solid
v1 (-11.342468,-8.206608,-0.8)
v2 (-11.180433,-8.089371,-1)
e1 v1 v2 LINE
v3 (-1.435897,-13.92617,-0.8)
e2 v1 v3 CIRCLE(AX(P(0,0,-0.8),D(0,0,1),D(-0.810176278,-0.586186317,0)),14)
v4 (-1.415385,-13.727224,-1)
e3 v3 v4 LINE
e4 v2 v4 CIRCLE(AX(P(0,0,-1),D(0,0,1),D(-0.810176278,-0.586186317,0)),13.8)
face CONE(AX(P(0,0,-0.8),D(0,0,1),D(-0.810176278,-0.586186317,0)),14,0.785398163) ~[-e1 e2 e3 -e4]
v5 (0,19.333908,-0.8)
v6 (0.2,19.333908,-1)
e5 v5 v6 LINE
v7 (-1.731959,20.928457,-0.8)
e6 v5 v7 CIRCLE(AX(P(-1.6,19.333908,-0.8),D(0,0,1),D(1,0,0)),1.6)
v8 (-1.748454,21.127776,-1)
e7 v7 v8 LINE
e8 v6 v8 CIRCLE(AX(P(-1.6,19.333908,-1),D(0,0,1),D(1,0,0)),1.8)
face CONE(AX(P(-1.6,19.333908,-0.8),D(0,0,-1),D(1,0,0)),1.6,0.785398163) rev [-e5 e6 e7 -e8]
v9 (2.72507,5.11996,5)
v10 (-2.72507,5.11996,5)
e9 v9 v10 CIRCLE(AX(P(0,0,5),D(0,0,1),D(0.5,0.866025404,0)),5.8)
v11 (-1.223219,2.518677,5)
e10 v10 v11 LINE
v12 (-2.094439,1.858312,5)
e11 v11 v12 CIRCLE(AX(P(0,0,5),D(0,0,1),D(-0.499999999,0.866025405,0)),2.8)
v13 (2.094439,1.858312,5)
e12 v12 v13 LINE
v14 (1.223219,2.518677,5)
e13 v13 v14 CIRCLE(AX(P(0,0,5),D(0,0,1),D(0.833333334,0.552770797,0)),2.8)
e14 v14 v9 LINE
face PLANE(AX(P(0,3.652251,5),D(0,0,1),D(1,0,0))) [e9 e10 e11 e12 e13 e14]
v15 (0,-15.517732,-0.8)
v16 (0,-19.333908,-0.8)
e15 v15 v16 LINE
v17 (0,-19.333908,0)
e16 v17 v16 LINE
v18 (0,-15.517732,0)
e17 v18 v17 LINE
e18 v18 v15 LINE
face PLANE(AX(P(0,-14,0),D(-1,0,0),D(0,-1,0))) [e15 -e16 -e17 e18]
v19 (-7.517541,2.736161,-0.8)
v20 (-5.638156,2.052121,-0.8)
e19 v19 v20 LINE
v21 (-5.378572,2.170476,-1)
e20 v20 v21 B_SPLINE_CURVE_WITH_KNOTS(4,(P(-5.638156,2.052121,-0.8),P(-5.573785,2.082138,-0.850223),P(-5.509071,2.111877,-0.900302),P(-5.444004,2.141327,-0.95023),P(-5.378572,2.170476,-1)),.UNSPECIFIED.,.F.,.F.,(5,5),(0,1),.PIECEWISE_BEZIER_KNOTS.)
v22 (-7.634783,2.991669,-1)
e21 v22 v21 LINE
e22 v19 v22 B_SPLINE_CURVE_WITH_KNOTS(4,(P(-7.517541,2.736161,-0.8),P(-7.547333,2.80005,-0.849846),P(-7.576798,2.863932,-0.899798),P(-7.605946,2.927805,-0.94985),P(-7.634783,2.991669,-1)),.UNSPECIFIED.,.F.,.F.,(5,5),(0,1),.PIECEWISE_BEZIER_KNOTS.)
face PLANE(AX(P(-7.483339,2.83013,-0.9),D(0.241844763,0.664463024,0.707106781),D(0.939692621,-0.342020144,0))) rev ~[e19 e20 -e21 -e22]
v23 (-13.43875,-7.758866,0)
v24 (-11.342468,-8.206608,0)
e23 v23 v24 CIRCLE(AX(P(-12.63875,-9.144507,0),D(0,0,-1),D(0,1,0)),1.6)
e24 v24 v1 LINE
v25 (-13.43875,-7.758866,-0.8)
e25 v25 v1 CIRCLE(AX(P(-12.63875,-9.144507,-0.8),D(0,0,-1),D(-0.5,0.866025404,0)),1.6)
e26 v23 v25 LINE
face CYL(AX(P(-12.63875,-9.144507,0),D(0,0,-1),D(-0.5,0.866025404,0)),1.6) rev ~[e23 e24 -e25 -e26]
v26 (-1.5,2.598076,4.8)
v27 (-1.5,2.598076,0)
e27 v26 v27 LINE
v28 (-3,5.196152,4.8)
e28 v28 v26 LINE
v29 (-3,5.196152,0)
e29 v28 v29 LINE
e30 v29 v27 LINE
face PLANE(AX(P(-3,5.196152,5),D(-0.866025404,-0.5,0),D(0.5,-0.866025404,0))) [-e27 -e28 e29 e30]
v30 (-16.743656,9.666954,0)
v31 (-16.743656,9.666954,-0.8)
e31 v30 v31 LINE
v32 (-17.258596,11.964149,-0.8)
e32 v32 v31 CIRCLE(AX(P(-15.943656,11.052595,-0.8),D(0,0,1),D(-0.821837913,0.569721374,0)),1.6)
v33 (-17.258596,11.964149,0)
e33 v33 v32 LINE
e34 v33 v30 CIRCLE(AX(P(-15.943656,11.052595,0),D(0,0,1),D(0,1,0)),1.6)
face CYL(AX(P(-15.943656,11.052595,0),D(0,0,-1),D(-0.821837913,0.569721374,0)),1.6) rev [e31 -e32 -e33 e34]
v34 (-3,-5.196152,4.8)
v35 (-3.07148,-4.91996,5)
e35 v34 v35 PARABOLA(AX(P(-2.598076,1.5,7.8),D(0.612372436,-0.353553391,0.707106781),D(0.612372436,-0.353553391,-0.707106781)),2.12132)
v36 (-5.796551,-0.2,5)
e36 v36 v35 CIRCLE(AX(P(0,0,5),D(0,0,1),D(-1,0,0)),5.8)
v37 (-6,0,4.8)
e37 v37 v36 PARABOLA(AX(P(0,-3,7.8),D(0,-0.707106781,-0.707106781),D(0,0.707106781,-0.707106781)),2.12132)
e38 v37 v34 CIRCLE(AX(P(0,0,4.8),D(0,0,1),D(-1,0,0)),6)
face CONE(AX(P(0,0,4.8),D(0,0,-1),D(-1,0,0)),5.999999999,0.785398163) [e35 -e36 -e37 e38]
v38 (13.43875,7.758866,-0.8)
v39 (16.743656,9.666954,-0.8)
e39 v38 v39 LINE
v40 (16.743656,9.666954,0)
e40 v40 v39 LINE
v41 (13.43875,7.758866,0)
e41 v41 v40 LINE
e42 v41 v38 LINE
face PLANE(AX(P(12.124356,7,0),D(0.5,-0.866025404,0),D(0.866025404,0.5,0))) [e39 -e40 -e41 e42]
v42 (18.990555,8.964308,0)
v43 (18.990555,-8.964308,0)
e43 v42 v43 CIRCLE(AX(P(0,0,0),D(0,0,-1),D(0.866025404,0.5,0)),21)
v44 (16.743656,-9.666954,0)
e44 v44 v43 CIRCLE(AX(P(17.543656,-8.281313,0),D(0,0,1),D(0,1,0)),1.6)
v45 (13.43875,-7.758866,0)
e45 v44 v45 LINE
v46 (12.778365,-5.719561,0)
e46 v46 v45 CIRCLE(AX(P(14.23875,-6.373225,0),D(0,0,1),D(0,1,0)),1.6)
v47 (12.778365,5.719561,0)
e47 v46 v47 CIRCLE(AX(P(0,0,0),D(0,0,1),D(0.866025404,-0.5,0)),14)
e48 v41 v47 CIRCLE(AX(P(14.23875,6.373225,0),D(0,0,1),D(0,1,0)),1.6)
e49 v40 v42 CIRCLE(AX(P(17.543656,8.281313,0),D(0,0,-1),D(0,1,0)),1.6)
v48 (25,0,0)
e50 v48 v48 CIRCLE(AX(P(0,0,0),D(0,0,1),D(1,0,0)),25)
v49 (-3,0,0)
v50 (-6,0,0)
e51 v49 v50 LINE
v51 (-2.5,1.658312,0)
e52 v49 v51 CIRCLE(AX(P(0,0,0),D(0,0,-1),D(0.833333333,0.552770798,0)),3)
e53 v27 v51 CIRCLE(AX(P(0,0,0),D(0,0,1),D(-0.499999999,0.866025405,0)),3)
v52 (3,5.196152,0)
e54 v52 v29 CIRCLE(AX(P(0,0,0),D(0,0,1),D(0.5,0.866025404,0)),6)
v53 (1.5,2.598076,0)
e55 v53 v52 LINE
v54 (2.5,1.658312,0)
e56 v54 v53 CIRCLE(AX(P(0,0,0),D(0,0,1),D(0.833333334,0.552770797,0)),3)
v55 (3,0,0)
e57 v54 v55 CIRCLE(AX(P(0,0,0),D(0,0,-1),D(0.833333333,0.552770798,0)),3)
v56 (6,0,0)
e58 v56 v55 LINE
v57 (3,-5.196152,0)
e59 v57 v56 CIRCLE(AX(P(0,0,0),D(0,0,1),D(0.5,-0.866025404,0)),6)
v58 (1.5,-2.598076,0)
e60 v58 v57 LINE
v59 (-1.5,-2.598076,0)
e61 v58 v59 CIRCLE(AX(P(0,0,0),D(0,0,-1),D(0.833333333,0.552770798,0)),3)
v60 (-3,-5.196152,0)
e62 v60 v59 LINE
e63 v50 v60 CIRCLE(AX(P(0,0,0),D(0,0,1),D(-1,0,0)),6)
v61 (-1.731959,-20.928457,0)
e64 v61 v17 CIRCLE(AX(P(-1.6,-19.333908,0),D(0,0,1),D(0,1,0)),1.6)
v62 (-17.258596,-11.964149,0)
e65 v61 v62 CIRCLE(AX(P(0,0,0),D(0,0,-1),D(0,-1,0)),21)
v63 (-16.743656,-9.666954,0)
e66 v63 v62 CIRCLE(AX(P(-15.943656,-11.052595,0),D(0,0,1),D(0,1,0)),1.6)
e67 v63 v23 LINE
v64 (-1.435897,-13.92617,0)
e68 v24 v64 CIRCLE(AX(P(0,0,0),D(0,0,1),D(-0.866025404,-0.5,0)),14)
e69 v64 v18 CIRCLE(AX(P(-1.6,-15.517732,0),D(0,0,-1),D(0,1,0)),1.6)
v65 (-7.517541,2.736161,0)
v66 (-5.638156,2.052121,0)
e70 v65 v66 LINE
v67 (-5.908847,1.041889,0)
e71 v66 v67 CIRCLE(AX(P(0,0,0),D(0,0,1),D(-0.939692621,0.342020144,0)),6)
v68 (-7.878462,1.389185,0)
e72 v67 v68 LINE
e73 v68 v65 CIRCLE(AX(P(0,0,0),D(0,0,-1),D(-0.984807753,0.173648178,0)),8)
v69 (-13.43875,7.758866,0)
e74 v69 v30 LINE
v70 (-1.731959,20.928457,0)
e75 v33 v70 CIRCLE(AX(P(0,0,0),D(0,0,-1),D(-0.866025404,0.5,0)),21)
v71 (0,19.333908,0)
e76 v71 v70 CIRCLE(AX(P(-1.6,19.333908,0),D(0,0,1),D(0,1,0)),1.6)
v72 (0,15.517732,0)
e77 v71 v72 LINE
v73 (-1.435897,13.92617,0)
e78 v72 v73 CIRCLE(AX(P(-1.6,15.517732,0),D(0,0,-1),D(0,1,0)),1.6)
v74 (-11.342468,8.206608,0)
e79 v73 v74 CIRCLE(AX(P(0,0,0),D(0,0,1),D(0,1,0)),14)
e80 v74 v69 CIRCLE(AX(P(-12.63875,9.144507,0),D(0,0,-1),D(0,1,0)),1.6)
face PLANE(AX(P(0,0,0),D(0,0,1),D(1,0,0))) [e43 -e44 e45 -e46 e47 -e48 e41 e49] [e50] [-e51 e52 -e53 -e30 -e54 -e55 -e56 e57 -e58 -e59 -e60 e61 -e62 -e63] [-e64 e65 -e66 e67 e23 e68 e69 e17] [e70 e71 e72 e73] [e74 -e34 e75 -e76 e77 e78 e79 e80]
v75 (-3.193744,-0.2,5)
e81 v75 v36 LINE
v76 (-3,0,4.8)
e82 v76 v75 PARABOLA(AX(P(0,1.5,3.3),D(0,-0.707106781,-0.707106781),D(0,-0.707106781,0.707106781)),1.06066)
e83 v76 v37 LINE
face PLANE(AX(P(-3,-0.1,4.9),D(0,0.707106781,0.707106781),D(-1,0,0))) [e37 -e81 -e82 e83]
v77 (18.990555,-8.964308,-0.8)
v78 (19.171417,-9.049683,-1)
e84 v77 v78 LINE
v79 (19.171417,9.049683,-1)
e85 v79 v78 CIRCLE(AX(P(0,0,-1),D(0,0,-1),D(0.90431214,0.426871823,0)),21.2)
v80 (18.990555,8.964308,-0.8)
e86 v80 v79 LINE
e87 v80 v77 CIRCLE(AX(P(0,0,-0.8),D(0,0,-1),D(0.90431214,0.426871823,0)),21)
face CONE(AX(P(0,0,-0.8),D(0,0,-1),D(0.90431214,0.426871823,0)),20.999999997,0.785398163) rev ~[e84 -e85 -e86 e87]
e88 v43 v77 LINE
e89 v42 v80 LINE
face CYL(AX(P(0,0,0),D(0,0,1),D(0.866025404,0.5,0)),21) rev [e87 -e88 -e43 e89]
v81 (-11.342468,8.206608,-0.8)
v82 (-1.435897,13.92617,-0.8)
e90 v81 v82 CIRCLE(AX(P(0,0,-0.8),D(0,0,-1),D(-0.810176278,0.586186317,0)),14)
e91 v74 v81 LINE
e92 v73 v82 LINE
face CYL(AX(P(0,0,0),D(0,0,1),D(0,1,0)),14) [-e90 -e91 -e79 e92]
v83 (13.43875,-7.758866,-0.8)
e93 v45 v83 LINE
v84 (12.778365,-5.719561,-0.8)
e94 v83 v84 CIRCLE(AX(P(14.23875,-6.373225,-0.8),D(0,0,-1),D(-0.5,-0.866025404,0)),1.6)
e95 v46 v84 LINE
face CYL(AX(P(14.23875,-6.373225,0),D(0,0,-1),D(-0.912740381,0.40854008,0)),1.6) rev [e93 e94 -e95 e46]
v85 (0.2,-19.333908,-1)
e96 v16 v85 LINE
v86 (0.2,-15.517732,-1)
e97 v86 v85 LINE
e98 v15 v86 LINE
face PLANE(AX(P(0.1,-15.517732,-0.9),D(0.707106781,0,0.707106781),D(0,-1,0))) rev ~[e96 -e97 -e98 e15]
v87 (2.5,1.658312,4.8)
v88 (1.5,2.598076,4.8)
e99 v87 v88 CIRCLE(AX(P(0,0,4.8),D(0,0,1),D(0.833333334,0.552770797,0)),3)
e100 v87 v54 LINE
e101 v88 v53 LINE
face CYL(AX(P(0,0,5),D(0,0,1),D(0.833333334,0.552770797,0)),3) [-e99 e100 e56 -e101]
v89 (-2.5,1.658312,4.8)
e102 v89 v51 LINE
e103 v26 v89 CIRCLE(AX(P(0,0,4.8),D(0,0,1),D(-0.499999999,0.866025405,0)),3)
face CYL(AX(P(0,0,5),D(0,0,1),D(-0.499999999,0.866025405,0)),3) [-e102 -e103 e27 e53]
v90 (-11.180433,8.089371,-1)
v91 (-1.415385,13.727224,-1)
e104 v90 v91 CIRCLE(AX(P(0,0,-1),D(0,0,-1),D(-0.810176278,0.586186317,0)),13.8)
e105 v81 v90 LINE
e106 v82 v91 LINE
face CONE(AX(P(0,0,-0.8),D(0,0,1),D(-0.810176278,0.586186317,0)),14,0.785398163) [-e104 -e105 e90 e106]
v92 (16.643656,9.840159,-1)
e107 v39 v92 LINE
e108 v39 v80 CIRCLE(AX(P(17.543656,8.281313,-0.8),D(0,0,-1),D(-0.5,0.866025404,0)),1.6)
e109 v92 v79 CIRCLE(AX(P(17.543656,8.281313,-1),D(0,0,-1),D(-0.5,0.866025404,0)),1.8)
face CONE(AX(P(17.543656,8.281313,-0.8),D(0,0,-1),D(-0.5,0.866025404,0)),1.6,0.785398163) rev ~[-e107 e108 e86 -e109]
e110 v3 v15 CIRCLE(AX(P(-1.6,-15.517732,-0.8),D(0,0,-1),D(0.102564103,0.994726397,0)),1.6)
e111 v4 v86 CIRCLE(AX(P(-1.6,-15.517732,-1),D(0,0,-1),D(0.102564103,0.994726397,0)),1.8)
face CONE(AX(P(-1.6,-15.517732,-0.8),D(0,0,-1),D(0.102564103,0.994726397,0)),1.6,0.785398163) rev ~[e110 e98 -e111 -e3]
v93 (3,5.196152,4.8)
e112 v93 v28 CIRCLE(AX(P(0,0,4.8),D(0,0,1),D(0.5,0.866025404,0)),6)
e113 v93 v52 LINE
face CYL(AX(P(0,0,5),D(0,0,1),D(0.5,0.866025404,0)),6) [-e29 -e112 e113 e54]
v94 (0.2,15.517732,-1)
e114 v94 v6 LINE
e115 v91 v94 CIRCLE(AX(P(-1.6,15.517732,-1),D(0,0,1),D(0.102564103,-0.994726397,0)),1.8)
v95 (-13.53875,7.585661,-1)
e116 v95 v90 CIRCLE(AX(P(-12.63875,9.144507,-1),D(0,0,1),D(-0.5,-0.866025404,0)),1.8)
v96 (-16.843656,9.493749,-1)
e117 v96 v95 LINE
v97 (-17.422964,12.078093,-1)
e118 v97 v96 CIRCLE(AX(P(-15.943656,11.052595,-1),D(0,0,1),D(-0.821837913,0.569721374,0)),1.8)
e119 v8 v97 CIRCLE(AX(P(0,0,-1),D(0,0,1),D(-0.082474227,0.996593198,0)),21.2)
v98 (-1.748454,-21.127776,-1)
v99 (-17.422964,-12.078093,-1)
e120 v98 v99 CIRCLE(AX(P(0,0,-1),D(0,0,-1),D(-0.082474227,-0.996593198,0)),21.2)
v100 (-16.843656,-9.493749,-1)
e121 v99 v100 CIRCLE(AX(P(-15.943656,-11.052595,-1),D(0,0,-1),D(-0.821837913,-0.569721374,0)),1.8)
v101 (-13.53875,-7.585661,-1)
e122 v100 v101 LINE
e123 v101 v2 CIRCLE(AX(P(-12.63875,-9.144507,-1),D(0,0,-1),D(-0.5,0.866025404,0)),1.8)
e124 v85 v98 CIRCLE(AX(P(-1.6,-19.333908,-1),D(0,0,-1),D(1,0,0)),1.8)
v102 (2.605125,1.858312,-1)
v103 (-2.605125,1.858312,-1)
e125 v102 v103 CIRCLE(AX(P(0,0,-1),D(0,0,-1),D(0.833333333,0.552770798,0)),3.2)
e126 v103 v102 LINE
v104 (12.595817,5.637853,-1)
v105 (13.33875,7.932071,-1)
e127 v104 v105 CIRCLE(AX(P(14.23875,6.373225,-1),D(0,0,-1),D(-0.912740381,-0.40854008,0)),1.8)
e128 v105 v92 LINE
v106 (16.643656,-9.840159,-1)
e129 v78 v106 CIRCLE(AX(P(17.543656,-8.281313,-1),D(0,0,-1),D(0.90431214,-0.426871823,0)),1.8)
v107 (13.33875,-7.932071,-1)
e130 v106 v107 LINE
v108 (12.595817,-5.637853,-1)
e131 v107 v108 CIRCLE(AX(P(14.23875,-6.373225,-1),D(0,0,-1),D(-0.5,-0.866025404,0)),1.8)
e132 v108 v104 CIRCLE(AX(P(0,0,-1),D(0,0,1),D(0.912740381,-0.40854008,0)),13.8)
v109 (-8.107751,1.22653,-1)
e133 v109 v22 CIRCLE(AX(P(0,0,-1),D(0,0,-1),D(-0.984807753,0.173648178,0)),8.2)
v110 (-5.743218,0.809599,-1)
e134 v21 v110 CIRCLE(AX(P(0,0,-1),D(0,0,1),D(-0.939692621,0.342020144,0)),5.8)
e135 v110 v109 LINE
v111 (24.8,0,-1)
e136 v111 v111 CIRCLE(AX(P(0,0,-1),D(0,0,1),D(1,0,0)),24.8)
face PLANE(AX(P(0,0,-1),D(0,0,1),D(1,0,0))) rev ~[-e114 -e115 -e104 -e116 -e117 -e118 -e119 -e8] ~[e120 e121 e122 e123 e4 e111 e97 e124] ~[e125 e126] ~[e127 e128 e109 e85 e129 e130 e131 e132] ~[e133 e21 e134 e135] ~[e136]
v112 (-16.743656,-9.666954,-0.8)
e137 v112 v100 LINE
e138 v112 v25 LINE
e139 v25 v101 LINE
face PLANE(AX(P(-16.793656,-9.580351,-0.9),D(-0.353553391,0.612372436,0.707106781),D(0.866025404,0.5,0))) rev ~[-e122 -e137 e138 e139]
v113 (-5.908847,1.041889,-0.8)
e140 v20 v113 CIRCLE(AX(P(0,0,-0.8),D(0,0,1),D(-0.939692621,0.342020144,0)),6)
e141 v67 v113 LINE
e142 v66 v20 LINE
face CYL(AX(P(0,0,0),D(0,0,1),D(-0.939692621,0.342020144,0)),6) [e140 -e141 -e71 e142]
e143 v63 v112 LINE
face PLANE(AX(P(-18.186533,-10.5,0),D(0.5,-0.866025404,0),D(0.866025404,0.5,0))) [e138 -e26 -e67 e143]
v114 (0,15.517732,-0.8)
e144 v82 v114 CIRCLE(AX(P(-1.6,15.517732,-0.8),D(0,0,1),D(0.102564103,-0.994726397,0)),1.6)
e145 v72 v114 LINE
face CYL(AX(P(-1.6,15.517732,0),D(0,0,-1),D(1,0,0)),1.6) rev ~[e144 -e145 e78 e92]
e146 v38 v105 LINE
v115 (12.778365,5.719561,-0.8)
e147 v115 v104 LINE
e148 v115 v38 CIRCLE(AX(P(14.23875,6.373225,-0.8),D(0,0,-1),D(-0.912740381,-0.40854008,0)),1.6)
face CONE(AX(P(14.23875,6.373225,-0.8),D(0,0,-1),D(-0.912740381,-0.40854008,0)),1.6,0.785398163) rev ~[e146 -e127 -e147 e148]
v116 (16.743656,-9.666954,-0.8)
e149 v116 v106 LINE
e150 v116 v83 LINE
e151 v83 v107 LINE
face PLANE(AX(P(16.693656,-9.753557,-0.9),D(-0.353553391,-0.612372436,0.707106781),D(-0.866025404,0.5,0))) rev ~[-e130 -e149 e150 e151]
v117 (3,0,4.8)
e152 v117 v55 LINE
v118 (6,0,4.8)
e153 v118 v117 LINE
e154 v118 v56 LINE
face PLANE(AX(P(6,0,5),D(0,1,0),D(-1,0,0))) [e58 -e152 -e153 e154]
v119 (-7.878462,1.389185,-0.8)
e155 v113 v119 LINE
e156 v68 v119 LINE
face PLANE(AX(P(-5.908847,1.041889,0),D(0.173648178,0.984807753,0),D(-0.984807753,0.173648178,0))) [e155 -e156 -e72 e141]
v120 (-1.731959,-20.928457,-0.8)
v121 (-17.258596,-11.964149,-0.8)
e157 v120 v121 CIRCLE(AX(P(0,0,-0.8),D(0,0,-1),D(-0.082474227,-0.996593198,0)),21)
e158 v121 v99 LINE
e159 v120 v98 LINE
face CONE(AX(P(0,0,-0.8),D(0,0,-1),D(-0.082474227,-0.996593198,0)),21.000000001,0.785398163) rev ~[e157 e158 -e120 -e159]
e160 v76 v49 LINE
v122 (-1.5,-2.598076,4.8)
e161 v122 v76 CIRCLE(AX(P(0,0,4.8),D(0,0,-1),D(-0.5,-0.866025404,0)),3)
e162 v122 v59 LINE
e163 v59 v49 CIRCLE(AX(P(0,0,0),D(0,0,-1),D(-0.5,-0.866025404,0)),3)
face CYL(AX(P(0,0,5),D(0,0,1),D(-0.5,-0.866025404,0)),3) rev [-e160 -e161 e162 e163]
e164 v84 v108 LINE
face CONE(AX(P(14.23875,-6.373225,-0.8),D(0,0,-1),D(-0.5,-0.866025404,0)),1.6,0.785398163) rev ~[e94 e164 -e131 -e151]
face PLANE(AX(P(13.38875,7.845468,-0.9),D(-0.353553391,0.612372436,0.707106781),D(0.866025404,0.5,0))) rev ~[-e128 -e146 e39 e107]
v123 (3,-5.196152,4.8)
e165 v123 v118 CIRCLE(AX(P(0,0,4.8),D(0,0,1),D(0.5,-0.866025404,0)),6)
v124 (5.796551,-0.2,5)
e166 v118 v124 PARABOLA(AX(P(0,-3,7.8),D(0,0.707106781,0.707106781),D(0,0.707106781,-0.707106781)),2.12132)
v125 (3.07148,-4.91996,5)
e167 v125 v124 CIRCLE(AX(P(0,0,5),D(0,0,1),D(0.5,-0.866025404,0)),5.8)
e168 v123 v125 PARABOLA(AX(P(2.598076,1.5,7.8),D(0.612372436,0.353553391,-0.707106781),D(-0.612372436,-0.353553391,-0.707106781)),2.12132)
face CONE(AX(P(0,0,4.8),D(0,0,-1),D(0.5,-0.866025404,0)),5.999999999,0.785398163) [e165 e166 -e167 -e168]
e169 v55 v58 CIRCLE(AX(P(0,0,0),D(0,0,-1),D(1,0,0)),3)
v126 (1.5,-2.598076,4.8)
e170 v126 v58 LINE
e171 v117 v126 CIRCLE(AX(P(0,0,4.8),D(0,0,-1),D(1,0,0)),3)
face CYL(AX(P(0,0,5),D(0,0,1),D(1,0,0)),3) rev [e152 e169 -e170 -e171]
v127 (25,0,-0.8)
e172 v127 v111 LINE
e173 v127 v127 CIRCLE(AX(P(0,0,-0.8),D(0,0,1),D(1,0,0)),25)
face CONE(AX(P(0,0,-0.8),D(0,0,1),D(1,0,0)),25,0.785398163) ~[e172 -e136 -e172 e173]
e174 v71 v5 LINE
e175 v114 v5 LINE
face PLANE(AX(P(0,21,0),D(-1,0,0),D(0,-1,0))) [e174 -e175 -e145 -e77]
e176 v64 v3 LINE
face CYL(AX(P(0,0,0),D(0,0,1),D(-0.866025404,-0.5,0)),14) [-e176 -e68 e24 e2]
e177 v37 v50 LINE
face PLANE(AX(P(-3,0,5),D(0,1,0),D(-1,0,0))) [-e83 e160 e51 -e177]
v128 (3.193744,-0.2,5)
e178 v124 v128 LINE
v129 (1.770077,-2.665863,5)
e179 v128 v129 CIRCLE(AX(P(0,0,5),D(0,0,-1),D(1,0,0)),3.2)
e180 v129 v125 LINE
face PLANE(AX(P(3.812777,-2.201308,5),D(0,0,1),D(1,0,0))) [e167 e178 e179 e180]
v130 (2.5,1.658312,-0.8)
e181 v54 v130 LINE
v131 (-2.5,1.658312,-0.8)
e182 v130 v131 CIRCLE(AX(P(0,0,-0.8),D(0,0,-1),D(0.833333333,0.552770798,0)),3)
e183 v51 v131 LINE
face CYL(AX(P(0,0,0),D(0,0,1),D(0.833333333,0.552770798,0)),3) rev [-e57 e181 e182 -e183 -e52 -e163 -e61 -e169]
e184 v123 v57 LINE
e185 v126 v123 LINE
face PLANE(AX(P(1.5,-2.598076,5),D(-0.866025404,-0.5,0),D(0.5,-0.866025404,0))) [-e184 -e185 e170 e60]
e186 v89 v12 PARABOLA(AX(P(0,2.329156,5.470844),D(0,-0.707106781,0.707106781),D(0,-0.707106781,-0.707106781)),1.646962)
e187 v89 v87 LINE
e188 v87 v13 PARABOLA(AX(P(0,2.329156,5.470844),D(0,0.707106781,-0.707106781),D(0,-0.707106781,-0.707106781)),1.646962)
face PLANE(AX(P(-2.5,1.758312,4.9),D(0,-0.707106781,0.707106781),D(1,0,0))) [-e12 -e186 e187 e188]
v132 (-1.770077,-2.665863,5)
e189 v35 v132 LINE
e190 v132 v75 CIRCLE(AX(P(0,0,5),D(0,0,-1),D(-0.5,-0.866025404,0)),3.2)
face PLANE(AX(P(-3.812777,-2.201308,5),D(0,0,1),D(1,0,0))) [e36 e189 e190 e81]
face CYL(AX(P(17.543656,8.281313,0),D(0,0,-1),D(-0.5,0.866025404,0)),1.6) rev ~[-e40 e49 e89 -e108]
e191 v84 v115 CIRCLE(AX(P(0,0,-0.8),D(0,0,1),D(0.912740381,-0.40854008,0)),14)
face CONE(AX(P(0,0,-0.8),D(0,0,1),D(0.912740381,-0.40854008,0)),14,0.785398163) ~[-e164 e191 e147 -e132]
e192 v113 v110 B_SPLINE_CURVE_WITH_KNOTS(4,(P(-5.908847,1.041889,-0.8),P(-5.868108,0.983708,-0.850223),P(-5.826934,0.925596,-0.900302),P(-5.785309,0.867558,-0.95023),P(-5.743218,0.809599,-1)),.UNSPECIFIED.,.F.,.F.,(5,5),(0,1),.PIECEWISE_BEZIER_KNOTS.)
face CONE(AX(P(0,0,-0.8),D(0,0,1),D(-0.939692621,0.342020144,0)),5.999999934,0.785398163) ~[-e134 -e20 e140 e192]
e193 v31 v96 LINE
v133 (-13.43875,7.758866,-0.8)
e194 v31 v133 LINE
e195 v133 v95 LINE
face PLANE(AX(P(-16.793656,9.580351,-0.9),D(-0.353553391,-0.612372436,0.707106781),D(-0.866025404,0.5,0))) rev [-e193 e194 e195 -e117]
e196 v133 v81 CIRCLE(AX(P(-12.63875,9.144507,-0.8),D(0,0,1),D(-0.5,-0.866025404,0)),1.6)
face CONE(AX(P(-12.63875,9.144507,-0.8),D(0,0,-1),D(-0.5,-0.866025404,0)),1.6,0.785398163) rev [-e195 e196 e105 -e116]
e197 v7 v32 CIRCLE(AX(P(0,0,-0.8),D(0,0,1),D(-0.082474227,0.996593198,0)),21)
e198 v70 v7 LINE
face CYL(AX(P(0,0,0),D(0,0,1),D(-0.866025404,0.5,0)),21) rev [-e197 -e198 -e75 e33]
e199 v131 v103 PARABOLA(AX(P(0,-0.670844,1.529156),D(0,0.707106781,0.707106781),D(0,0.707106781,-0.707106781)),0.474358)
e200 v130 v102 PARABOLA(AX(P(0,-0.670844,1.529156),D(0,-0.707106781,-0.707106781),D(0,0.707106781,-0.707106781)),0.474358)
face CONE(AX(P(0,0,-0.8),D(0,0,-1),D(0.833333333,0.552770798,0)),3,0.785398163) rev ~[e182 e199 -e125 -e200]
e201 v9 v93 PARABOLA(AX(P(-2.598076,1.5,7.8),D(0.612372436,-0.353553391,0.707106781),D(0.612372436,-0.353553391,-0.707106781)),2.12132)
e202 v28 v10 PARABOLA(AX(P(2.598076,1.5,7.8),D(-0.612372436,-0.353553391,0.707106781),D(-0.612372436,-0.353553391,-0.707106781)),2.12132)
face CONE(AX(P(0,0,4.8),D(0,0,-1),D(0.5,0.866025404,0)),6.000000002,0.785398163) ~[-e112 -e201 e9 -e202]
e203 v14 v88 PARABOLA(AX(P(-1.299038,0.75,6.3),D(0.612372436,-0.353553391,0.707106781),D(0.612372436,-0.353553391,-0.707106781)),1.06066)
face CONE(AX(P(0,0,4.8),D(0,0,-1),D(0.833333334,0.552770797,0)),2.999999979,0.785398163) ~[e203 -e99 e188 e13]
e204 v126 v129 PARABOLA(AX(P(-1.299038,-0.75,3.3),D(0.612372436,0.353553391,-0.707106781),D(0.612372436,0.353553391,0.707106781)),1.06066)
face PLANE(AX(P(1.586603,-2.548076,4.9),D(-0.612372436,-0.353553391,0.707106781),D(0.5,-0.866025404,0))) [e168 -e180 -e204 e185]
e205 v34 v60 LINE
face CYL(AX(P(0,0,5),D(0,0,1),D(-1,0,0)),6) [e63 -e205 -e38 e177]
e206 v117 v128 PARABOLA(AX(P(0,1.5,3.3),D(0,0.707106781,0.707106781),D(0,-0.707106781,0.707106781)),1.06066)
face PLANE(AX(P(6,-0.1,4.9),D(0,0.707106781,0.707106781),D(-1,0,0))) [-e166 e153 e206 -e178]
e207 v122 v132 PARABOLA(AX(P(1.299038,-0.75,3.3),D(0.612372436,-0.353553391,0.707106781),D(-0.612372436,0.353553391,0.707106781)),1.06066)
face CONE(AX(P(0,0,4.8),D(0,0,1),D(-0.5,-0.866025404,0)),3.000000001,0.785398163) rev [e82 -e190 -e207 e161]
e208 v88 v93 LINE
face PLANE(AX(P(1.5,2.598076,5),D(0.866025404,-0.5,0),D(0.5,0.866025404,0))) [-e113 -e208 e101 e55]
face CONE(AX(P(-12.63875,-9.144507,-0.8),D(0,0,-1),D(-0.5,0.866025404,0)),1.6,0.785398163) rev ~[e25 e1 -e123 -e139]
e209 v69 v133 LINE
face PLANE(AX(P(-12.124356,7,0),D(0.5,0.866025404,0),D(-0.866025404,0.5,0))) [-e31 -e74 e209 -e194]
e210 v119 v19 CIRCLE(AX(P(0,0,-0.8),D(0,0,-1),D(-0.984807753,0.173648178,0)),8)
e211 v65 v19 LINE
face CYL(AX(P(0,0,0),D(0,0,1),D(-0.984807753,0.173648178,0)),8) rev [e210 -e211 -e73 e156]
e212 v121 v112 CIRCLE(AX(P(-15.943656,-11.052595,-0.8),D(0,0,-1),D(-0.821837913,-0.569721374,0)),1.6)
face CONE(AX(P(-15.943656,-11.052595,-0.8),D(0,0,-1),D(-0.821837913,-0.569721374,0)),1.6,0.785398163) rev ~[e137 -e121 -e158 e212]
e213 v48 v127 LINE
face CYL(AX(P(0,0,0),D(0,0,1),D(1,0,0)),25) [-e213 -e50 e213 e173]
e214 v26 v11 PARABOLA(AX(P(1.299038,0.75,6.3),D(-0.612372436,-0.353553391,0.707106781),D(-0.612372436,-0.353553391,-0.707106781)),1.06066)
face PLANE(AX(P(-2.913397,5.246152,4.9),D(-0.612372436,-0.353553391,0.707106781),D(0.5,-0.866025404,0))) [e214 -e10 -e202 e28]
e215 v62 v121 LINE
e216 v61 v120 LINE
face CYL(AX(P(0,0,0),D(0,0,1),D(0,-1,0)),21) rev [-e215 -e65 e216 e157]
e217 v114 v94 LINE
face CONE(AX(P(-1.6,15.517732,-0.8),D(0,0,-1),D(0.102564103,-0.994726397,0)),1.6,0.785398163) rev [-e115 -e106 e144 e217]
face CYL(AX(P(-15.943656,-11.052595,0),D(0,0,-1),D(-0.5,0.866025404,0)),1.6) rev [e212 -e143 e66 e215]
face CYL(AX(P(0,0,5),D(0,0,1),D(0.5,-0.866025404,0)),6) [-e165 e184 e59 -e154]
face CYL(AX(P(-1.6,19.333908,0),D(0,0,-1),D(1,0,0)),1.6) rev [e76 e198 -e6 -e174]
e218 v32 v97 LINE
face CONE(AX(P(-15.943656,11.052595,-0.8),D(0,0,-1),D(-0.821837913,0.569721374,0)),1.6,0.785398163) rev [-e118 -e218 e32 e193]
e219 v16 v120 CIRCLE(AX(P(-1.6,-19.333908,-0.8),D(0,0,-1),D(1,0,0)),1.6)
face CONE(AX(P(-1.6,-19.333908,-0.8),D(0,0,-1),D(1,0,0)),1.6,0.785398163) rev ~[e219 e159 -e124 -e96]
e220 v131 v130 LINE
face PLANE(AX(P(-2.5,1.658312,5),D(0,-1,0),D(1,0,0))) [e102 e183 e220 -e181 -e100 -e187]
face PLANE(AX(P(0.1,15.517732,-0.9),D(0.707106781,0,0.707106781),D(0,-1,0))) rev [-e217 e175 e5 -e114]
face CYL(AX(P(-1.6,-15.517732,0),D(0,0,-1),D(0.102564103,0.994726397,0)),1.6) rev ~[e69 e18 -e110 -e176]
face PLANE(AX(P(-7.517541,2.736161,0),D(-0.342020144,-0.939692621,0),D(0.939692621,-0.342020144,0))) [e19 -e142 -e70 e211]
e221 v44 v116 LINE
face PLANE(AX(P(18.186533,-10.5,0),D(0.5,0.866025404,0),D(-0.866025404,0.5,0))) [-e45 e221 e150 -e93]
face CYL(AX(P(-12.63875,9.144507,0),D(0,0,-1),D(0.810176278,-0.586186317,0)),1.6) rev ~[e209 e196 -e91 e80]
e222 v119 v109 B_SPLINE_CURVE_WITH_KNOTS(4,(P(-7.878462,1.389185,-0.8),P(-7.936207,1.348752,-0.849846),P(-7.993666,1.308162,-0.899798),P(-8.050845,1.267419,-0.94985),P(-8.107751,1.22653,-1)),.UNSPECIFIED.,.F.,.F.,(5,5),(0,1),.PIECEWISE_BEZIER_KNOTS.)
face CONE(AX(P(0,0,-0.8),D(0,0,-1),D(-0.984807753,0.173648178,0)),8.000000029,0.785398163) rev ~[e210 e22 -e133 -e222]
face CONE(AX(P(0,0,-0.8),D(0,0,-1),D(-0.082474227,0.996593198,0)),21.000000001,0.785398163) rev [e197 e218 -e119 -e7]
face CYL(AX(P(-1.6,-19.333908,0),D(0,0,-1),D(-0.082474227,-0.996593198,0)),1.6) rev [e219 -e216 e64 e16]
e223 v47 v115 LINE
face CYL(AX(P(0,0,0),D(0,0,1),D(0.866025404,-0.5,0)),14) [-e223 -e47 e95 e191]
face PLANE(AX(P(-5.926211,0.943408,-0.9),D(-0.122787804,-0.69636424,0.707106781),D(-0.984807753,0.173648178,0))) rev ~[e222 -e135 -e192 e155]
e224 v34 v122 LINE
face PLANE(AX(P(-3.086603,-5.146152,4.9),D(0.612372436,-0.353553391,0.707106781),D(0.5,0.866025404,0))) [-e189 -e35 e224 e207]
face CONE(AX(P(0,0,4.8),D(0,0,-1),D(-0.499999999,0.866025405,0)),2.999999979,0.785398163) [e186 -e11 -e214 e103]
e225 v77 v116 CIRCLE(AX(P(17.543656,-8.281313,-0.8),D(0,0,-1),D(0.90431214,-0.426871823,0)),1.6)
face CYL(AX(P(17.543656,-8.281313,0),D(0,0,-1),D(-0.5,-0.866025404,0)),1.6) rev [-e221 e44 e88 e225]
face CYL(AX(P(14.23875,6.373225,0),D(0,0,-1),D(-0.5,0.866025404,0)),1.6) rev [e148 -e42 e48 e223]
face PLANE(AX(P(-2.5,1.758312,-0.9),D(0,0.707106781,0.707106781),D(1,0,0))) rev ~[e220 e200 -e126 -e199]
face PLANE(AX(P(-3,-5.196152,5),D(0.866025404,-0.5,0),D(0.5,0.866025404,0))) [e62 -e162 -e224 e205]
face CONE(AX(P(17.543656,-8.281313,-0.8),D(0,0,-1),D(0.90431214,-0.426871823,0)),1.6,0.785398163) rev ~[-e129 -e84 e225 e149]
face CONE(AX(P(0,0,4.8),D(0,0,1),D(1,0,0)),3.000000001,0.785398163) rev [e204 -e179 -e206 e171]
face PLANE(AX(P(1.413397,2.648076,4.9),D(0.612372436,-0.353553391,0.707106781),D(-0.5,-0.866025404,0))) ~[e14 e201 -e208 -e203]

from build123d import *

# Parameters (mm, degrees)
SKETCH_1_R      = 25
EXTRUDE_1_DEPTH = 1
FILLET_1_R      = 1.6
EXTRUDE_START   = 5
EXTRUDE_3_DEPTH = 5
CHAMFER_3_SIZE  = 0.2


with BuildPart() as part:
    # 草图1 → 凸台-拉伸1 (new body)
    with BuildSketch(Plane.XY):
        Circle(SKETCH_1_R)
        with BuildLine():
            Line((-5.908846518, 1.041889066), (-7.878462024, 1.389185421))
            ThreePointArc((-7.878462024, 1.389185421), (-7.72740661, 2.070552361), (-7.517540966, 2.736161147))
            Line((-7.517540966, 2.736161147), (-5.638155725, 2.05212086))
            ThreePointArc((-5.638155725, 2.05212086), (-5.795554958, 1.552914271), (-5.908846518, 1.041889066))
        make_face(mode=Mode.SUBTRACT)
        with BuildLine():
            Line((-2.5, 1.658312395), (2.5, 1.658312395))
            ThreePointArc((2.5, 1.658312395), (0, -3), (-2.5, 1.658312395))
        make_face(mode=Mode.SUBTRACT)
        with BuildLine():
            ThreePointArc((-12.124355653, -7), (-7, -12.124355653), (0, -14))
            Line((0, -14), (0, -21))
            ThreePointArc((0, -21), (-10.5, -18.186533479), (-18.186533479, -10.5))
            Line((-18.186533479, -10.5), (-12.124355653, -7))
        make_face(mode=Mode.SUBTRACT)
        with BuildLine():
            ThreePointArc((0, 14), (-7, 12.124355653), (-12.124355653, 7))
            Line((-12.124355653, 7), (-18.186533479, 10.5))
            ThreePointArc((-18.186533479, 10.5), (-10.5, 18.186533479), (0, 21))
            Line((0, 21), (0, 14))
        make_face(mode=Mode.SUBTRACT)
        with BuildLine():
            ThreePointArc((18.186533479, 10.5), (21, 0), (18.186533479, -10.5))
            Line((18.186533479, -10.5), (12.124355653, -7))
            ThreePointArc((12.124355653, -7), (14, 0), (12.124355653, 7))
            Line((12.124355653, 7), (18.186533479, 10.5))
        make_face(mode=Mode.SUBTRACT)
    extrude(amount=-EXTRUDE_1_DEPTH)

    # 圆角1
    fillet_1_edges = [part.edges().sort_by_distance(p)[0] for p in [
        (-18.186533479, -10.5, -0.5),
        (0, -21, -0.5),
        (0, -14, -0.5),
        (-12.124355653, -7, -0.5),
        (18.186533479, -10.5, -0.5),
        (18.186533479, 10.5, -0.5),
        (12.124355653, 7, -0.5),
        (12.124355653, -7, -0.5),
        (-18.186533479, 10.5, -0.5),
        (-12.124355653, 7, -0.5),
        (0, 14, -0.5),
        (0, 21, -0.5),
    ]]
    fillet(fillet_1_edges, radius=FILLET_1_R)

    # 草图1<5> → 凸台-拉伸3 (add)
    with BuildSketch(Plane.XY.offset(EXTRUDE_START)):
        with BuildLine():
            ThreePointArc((-1.5, 2.598076211), (-2.054455891, 2.186140662), (-2.5, 1.658312395))
            Line((-2.5, 1.658312395), (2.5, 1.658312395))
            ThreePointArc((2.5, 1.658312395), (2.054455891, 2.186140662), (1.5, 2.598076211))
            Line((1.5, 2.598076211), (3, 5.196152423))
            ThreePointArc((3, 5.196152423), (0, 6), (-3, 5.196152423))
            Line((-3, 5.196152423), (-1.5, 2.598076211))
        make_face()
        with BuildLine():
            ThreePointArc((-1.5, -2.598076211), (-2.598076211, -1.5), (-3, 0))
            Line((-3, 0), (-6, 0))
            ThreePointArc((-6, 0), (-5.196152423, -3), (-3, -5.196152423))
            Line((-3, -5.196152423), (-1.5, -2.598076211))
        make_face()
        with BuildLine():
            Line((6, 0), (3, 0))
            ThreePointArc((3, 0), (2.598076211, -1.5), (1.5, -2.598076211))
            Line((1.5, -2.598076211), (3, -5.196152423))
            ThreePointArc((3, -5.196152423), (5.196152423, -3), (6, 0))
        make_face()
    extrude(amount=-EXTRUDE_3_DEPTH)

    # 倒角3
    chamfer_3_edges = [part.edges().sort_by_distance(p)[0] for p in [
        (18.021198676, 9.808386563, -1),
        (12.716572017, 6.866149549, -1),
        (12.716572017, -6.866149549, -1),
        (-17.504911272, 10.702622579, -1),
        (-12.304545944, 7.579799641, -1),
        (-0.412026073, 14.44594919, -1),
        (-0.516287404, 20.511009142, -1),
        (0, 1.658312395, -1),
        (-7.72740661, 2.070552361, -1),
        (-2.25, 3.897114317, 5),
        (0, 1.658312395, 5),
        (2.054455891, 2.186140662, 5),
        (2.25, 3.897114317, 5),
        (0, 6, 5),
        (-2.054455891, 2.186140662, 5),
        (-2.25, -3.897114317, 5),
        (-2.598076211, -1.5, 5),
        (-4.5, 0, 5),
        (-5.196152423, -3, 5),
        (4.5, 0, 5),
        (2.598076211, -1.5, 5),
        (2.25, -3.897114317, 5),
        (5.196152423, -3, 5),
        (-6.577848346, 2.394141003, -1),
        (-5.795554958, 1.552914271, -1),
        (-6.893654271, 1.215537244, -1),
        (-25, 0, -1),
        (-10.5, -18.186533479, -1),
        (-15.091202728, -8.712909958, -1),
        (-7, -12.124355653, -1),
        (0, -17.425819915, -1),
        (21, 0, -1),
        (15.091202728, -8.712909958, -1),
        (15.091202728, 8.712909958, -1),
        (14, 0, -1),
        (-15.091202728, 8.712909958, -1),
        (-10.5, 18.186533479, -1),
        (-7, 12.124355653, -1),
        (0, 17.425819915, -1),
        (-17.504911272, -10.702622579, -1),
        (0, -3, -1),
        (-12.304545944, -7.579799641, -1),
        (-0.412026073, -14.44594919, -1),
        (-0.516287404, -20.511009142, -1),
        (18.021198676, -9.808386563, -1),
    ]]
    chamfer(chamfer_3_edges, length=CHAMFER_3_SIZE)


solid = part.part
